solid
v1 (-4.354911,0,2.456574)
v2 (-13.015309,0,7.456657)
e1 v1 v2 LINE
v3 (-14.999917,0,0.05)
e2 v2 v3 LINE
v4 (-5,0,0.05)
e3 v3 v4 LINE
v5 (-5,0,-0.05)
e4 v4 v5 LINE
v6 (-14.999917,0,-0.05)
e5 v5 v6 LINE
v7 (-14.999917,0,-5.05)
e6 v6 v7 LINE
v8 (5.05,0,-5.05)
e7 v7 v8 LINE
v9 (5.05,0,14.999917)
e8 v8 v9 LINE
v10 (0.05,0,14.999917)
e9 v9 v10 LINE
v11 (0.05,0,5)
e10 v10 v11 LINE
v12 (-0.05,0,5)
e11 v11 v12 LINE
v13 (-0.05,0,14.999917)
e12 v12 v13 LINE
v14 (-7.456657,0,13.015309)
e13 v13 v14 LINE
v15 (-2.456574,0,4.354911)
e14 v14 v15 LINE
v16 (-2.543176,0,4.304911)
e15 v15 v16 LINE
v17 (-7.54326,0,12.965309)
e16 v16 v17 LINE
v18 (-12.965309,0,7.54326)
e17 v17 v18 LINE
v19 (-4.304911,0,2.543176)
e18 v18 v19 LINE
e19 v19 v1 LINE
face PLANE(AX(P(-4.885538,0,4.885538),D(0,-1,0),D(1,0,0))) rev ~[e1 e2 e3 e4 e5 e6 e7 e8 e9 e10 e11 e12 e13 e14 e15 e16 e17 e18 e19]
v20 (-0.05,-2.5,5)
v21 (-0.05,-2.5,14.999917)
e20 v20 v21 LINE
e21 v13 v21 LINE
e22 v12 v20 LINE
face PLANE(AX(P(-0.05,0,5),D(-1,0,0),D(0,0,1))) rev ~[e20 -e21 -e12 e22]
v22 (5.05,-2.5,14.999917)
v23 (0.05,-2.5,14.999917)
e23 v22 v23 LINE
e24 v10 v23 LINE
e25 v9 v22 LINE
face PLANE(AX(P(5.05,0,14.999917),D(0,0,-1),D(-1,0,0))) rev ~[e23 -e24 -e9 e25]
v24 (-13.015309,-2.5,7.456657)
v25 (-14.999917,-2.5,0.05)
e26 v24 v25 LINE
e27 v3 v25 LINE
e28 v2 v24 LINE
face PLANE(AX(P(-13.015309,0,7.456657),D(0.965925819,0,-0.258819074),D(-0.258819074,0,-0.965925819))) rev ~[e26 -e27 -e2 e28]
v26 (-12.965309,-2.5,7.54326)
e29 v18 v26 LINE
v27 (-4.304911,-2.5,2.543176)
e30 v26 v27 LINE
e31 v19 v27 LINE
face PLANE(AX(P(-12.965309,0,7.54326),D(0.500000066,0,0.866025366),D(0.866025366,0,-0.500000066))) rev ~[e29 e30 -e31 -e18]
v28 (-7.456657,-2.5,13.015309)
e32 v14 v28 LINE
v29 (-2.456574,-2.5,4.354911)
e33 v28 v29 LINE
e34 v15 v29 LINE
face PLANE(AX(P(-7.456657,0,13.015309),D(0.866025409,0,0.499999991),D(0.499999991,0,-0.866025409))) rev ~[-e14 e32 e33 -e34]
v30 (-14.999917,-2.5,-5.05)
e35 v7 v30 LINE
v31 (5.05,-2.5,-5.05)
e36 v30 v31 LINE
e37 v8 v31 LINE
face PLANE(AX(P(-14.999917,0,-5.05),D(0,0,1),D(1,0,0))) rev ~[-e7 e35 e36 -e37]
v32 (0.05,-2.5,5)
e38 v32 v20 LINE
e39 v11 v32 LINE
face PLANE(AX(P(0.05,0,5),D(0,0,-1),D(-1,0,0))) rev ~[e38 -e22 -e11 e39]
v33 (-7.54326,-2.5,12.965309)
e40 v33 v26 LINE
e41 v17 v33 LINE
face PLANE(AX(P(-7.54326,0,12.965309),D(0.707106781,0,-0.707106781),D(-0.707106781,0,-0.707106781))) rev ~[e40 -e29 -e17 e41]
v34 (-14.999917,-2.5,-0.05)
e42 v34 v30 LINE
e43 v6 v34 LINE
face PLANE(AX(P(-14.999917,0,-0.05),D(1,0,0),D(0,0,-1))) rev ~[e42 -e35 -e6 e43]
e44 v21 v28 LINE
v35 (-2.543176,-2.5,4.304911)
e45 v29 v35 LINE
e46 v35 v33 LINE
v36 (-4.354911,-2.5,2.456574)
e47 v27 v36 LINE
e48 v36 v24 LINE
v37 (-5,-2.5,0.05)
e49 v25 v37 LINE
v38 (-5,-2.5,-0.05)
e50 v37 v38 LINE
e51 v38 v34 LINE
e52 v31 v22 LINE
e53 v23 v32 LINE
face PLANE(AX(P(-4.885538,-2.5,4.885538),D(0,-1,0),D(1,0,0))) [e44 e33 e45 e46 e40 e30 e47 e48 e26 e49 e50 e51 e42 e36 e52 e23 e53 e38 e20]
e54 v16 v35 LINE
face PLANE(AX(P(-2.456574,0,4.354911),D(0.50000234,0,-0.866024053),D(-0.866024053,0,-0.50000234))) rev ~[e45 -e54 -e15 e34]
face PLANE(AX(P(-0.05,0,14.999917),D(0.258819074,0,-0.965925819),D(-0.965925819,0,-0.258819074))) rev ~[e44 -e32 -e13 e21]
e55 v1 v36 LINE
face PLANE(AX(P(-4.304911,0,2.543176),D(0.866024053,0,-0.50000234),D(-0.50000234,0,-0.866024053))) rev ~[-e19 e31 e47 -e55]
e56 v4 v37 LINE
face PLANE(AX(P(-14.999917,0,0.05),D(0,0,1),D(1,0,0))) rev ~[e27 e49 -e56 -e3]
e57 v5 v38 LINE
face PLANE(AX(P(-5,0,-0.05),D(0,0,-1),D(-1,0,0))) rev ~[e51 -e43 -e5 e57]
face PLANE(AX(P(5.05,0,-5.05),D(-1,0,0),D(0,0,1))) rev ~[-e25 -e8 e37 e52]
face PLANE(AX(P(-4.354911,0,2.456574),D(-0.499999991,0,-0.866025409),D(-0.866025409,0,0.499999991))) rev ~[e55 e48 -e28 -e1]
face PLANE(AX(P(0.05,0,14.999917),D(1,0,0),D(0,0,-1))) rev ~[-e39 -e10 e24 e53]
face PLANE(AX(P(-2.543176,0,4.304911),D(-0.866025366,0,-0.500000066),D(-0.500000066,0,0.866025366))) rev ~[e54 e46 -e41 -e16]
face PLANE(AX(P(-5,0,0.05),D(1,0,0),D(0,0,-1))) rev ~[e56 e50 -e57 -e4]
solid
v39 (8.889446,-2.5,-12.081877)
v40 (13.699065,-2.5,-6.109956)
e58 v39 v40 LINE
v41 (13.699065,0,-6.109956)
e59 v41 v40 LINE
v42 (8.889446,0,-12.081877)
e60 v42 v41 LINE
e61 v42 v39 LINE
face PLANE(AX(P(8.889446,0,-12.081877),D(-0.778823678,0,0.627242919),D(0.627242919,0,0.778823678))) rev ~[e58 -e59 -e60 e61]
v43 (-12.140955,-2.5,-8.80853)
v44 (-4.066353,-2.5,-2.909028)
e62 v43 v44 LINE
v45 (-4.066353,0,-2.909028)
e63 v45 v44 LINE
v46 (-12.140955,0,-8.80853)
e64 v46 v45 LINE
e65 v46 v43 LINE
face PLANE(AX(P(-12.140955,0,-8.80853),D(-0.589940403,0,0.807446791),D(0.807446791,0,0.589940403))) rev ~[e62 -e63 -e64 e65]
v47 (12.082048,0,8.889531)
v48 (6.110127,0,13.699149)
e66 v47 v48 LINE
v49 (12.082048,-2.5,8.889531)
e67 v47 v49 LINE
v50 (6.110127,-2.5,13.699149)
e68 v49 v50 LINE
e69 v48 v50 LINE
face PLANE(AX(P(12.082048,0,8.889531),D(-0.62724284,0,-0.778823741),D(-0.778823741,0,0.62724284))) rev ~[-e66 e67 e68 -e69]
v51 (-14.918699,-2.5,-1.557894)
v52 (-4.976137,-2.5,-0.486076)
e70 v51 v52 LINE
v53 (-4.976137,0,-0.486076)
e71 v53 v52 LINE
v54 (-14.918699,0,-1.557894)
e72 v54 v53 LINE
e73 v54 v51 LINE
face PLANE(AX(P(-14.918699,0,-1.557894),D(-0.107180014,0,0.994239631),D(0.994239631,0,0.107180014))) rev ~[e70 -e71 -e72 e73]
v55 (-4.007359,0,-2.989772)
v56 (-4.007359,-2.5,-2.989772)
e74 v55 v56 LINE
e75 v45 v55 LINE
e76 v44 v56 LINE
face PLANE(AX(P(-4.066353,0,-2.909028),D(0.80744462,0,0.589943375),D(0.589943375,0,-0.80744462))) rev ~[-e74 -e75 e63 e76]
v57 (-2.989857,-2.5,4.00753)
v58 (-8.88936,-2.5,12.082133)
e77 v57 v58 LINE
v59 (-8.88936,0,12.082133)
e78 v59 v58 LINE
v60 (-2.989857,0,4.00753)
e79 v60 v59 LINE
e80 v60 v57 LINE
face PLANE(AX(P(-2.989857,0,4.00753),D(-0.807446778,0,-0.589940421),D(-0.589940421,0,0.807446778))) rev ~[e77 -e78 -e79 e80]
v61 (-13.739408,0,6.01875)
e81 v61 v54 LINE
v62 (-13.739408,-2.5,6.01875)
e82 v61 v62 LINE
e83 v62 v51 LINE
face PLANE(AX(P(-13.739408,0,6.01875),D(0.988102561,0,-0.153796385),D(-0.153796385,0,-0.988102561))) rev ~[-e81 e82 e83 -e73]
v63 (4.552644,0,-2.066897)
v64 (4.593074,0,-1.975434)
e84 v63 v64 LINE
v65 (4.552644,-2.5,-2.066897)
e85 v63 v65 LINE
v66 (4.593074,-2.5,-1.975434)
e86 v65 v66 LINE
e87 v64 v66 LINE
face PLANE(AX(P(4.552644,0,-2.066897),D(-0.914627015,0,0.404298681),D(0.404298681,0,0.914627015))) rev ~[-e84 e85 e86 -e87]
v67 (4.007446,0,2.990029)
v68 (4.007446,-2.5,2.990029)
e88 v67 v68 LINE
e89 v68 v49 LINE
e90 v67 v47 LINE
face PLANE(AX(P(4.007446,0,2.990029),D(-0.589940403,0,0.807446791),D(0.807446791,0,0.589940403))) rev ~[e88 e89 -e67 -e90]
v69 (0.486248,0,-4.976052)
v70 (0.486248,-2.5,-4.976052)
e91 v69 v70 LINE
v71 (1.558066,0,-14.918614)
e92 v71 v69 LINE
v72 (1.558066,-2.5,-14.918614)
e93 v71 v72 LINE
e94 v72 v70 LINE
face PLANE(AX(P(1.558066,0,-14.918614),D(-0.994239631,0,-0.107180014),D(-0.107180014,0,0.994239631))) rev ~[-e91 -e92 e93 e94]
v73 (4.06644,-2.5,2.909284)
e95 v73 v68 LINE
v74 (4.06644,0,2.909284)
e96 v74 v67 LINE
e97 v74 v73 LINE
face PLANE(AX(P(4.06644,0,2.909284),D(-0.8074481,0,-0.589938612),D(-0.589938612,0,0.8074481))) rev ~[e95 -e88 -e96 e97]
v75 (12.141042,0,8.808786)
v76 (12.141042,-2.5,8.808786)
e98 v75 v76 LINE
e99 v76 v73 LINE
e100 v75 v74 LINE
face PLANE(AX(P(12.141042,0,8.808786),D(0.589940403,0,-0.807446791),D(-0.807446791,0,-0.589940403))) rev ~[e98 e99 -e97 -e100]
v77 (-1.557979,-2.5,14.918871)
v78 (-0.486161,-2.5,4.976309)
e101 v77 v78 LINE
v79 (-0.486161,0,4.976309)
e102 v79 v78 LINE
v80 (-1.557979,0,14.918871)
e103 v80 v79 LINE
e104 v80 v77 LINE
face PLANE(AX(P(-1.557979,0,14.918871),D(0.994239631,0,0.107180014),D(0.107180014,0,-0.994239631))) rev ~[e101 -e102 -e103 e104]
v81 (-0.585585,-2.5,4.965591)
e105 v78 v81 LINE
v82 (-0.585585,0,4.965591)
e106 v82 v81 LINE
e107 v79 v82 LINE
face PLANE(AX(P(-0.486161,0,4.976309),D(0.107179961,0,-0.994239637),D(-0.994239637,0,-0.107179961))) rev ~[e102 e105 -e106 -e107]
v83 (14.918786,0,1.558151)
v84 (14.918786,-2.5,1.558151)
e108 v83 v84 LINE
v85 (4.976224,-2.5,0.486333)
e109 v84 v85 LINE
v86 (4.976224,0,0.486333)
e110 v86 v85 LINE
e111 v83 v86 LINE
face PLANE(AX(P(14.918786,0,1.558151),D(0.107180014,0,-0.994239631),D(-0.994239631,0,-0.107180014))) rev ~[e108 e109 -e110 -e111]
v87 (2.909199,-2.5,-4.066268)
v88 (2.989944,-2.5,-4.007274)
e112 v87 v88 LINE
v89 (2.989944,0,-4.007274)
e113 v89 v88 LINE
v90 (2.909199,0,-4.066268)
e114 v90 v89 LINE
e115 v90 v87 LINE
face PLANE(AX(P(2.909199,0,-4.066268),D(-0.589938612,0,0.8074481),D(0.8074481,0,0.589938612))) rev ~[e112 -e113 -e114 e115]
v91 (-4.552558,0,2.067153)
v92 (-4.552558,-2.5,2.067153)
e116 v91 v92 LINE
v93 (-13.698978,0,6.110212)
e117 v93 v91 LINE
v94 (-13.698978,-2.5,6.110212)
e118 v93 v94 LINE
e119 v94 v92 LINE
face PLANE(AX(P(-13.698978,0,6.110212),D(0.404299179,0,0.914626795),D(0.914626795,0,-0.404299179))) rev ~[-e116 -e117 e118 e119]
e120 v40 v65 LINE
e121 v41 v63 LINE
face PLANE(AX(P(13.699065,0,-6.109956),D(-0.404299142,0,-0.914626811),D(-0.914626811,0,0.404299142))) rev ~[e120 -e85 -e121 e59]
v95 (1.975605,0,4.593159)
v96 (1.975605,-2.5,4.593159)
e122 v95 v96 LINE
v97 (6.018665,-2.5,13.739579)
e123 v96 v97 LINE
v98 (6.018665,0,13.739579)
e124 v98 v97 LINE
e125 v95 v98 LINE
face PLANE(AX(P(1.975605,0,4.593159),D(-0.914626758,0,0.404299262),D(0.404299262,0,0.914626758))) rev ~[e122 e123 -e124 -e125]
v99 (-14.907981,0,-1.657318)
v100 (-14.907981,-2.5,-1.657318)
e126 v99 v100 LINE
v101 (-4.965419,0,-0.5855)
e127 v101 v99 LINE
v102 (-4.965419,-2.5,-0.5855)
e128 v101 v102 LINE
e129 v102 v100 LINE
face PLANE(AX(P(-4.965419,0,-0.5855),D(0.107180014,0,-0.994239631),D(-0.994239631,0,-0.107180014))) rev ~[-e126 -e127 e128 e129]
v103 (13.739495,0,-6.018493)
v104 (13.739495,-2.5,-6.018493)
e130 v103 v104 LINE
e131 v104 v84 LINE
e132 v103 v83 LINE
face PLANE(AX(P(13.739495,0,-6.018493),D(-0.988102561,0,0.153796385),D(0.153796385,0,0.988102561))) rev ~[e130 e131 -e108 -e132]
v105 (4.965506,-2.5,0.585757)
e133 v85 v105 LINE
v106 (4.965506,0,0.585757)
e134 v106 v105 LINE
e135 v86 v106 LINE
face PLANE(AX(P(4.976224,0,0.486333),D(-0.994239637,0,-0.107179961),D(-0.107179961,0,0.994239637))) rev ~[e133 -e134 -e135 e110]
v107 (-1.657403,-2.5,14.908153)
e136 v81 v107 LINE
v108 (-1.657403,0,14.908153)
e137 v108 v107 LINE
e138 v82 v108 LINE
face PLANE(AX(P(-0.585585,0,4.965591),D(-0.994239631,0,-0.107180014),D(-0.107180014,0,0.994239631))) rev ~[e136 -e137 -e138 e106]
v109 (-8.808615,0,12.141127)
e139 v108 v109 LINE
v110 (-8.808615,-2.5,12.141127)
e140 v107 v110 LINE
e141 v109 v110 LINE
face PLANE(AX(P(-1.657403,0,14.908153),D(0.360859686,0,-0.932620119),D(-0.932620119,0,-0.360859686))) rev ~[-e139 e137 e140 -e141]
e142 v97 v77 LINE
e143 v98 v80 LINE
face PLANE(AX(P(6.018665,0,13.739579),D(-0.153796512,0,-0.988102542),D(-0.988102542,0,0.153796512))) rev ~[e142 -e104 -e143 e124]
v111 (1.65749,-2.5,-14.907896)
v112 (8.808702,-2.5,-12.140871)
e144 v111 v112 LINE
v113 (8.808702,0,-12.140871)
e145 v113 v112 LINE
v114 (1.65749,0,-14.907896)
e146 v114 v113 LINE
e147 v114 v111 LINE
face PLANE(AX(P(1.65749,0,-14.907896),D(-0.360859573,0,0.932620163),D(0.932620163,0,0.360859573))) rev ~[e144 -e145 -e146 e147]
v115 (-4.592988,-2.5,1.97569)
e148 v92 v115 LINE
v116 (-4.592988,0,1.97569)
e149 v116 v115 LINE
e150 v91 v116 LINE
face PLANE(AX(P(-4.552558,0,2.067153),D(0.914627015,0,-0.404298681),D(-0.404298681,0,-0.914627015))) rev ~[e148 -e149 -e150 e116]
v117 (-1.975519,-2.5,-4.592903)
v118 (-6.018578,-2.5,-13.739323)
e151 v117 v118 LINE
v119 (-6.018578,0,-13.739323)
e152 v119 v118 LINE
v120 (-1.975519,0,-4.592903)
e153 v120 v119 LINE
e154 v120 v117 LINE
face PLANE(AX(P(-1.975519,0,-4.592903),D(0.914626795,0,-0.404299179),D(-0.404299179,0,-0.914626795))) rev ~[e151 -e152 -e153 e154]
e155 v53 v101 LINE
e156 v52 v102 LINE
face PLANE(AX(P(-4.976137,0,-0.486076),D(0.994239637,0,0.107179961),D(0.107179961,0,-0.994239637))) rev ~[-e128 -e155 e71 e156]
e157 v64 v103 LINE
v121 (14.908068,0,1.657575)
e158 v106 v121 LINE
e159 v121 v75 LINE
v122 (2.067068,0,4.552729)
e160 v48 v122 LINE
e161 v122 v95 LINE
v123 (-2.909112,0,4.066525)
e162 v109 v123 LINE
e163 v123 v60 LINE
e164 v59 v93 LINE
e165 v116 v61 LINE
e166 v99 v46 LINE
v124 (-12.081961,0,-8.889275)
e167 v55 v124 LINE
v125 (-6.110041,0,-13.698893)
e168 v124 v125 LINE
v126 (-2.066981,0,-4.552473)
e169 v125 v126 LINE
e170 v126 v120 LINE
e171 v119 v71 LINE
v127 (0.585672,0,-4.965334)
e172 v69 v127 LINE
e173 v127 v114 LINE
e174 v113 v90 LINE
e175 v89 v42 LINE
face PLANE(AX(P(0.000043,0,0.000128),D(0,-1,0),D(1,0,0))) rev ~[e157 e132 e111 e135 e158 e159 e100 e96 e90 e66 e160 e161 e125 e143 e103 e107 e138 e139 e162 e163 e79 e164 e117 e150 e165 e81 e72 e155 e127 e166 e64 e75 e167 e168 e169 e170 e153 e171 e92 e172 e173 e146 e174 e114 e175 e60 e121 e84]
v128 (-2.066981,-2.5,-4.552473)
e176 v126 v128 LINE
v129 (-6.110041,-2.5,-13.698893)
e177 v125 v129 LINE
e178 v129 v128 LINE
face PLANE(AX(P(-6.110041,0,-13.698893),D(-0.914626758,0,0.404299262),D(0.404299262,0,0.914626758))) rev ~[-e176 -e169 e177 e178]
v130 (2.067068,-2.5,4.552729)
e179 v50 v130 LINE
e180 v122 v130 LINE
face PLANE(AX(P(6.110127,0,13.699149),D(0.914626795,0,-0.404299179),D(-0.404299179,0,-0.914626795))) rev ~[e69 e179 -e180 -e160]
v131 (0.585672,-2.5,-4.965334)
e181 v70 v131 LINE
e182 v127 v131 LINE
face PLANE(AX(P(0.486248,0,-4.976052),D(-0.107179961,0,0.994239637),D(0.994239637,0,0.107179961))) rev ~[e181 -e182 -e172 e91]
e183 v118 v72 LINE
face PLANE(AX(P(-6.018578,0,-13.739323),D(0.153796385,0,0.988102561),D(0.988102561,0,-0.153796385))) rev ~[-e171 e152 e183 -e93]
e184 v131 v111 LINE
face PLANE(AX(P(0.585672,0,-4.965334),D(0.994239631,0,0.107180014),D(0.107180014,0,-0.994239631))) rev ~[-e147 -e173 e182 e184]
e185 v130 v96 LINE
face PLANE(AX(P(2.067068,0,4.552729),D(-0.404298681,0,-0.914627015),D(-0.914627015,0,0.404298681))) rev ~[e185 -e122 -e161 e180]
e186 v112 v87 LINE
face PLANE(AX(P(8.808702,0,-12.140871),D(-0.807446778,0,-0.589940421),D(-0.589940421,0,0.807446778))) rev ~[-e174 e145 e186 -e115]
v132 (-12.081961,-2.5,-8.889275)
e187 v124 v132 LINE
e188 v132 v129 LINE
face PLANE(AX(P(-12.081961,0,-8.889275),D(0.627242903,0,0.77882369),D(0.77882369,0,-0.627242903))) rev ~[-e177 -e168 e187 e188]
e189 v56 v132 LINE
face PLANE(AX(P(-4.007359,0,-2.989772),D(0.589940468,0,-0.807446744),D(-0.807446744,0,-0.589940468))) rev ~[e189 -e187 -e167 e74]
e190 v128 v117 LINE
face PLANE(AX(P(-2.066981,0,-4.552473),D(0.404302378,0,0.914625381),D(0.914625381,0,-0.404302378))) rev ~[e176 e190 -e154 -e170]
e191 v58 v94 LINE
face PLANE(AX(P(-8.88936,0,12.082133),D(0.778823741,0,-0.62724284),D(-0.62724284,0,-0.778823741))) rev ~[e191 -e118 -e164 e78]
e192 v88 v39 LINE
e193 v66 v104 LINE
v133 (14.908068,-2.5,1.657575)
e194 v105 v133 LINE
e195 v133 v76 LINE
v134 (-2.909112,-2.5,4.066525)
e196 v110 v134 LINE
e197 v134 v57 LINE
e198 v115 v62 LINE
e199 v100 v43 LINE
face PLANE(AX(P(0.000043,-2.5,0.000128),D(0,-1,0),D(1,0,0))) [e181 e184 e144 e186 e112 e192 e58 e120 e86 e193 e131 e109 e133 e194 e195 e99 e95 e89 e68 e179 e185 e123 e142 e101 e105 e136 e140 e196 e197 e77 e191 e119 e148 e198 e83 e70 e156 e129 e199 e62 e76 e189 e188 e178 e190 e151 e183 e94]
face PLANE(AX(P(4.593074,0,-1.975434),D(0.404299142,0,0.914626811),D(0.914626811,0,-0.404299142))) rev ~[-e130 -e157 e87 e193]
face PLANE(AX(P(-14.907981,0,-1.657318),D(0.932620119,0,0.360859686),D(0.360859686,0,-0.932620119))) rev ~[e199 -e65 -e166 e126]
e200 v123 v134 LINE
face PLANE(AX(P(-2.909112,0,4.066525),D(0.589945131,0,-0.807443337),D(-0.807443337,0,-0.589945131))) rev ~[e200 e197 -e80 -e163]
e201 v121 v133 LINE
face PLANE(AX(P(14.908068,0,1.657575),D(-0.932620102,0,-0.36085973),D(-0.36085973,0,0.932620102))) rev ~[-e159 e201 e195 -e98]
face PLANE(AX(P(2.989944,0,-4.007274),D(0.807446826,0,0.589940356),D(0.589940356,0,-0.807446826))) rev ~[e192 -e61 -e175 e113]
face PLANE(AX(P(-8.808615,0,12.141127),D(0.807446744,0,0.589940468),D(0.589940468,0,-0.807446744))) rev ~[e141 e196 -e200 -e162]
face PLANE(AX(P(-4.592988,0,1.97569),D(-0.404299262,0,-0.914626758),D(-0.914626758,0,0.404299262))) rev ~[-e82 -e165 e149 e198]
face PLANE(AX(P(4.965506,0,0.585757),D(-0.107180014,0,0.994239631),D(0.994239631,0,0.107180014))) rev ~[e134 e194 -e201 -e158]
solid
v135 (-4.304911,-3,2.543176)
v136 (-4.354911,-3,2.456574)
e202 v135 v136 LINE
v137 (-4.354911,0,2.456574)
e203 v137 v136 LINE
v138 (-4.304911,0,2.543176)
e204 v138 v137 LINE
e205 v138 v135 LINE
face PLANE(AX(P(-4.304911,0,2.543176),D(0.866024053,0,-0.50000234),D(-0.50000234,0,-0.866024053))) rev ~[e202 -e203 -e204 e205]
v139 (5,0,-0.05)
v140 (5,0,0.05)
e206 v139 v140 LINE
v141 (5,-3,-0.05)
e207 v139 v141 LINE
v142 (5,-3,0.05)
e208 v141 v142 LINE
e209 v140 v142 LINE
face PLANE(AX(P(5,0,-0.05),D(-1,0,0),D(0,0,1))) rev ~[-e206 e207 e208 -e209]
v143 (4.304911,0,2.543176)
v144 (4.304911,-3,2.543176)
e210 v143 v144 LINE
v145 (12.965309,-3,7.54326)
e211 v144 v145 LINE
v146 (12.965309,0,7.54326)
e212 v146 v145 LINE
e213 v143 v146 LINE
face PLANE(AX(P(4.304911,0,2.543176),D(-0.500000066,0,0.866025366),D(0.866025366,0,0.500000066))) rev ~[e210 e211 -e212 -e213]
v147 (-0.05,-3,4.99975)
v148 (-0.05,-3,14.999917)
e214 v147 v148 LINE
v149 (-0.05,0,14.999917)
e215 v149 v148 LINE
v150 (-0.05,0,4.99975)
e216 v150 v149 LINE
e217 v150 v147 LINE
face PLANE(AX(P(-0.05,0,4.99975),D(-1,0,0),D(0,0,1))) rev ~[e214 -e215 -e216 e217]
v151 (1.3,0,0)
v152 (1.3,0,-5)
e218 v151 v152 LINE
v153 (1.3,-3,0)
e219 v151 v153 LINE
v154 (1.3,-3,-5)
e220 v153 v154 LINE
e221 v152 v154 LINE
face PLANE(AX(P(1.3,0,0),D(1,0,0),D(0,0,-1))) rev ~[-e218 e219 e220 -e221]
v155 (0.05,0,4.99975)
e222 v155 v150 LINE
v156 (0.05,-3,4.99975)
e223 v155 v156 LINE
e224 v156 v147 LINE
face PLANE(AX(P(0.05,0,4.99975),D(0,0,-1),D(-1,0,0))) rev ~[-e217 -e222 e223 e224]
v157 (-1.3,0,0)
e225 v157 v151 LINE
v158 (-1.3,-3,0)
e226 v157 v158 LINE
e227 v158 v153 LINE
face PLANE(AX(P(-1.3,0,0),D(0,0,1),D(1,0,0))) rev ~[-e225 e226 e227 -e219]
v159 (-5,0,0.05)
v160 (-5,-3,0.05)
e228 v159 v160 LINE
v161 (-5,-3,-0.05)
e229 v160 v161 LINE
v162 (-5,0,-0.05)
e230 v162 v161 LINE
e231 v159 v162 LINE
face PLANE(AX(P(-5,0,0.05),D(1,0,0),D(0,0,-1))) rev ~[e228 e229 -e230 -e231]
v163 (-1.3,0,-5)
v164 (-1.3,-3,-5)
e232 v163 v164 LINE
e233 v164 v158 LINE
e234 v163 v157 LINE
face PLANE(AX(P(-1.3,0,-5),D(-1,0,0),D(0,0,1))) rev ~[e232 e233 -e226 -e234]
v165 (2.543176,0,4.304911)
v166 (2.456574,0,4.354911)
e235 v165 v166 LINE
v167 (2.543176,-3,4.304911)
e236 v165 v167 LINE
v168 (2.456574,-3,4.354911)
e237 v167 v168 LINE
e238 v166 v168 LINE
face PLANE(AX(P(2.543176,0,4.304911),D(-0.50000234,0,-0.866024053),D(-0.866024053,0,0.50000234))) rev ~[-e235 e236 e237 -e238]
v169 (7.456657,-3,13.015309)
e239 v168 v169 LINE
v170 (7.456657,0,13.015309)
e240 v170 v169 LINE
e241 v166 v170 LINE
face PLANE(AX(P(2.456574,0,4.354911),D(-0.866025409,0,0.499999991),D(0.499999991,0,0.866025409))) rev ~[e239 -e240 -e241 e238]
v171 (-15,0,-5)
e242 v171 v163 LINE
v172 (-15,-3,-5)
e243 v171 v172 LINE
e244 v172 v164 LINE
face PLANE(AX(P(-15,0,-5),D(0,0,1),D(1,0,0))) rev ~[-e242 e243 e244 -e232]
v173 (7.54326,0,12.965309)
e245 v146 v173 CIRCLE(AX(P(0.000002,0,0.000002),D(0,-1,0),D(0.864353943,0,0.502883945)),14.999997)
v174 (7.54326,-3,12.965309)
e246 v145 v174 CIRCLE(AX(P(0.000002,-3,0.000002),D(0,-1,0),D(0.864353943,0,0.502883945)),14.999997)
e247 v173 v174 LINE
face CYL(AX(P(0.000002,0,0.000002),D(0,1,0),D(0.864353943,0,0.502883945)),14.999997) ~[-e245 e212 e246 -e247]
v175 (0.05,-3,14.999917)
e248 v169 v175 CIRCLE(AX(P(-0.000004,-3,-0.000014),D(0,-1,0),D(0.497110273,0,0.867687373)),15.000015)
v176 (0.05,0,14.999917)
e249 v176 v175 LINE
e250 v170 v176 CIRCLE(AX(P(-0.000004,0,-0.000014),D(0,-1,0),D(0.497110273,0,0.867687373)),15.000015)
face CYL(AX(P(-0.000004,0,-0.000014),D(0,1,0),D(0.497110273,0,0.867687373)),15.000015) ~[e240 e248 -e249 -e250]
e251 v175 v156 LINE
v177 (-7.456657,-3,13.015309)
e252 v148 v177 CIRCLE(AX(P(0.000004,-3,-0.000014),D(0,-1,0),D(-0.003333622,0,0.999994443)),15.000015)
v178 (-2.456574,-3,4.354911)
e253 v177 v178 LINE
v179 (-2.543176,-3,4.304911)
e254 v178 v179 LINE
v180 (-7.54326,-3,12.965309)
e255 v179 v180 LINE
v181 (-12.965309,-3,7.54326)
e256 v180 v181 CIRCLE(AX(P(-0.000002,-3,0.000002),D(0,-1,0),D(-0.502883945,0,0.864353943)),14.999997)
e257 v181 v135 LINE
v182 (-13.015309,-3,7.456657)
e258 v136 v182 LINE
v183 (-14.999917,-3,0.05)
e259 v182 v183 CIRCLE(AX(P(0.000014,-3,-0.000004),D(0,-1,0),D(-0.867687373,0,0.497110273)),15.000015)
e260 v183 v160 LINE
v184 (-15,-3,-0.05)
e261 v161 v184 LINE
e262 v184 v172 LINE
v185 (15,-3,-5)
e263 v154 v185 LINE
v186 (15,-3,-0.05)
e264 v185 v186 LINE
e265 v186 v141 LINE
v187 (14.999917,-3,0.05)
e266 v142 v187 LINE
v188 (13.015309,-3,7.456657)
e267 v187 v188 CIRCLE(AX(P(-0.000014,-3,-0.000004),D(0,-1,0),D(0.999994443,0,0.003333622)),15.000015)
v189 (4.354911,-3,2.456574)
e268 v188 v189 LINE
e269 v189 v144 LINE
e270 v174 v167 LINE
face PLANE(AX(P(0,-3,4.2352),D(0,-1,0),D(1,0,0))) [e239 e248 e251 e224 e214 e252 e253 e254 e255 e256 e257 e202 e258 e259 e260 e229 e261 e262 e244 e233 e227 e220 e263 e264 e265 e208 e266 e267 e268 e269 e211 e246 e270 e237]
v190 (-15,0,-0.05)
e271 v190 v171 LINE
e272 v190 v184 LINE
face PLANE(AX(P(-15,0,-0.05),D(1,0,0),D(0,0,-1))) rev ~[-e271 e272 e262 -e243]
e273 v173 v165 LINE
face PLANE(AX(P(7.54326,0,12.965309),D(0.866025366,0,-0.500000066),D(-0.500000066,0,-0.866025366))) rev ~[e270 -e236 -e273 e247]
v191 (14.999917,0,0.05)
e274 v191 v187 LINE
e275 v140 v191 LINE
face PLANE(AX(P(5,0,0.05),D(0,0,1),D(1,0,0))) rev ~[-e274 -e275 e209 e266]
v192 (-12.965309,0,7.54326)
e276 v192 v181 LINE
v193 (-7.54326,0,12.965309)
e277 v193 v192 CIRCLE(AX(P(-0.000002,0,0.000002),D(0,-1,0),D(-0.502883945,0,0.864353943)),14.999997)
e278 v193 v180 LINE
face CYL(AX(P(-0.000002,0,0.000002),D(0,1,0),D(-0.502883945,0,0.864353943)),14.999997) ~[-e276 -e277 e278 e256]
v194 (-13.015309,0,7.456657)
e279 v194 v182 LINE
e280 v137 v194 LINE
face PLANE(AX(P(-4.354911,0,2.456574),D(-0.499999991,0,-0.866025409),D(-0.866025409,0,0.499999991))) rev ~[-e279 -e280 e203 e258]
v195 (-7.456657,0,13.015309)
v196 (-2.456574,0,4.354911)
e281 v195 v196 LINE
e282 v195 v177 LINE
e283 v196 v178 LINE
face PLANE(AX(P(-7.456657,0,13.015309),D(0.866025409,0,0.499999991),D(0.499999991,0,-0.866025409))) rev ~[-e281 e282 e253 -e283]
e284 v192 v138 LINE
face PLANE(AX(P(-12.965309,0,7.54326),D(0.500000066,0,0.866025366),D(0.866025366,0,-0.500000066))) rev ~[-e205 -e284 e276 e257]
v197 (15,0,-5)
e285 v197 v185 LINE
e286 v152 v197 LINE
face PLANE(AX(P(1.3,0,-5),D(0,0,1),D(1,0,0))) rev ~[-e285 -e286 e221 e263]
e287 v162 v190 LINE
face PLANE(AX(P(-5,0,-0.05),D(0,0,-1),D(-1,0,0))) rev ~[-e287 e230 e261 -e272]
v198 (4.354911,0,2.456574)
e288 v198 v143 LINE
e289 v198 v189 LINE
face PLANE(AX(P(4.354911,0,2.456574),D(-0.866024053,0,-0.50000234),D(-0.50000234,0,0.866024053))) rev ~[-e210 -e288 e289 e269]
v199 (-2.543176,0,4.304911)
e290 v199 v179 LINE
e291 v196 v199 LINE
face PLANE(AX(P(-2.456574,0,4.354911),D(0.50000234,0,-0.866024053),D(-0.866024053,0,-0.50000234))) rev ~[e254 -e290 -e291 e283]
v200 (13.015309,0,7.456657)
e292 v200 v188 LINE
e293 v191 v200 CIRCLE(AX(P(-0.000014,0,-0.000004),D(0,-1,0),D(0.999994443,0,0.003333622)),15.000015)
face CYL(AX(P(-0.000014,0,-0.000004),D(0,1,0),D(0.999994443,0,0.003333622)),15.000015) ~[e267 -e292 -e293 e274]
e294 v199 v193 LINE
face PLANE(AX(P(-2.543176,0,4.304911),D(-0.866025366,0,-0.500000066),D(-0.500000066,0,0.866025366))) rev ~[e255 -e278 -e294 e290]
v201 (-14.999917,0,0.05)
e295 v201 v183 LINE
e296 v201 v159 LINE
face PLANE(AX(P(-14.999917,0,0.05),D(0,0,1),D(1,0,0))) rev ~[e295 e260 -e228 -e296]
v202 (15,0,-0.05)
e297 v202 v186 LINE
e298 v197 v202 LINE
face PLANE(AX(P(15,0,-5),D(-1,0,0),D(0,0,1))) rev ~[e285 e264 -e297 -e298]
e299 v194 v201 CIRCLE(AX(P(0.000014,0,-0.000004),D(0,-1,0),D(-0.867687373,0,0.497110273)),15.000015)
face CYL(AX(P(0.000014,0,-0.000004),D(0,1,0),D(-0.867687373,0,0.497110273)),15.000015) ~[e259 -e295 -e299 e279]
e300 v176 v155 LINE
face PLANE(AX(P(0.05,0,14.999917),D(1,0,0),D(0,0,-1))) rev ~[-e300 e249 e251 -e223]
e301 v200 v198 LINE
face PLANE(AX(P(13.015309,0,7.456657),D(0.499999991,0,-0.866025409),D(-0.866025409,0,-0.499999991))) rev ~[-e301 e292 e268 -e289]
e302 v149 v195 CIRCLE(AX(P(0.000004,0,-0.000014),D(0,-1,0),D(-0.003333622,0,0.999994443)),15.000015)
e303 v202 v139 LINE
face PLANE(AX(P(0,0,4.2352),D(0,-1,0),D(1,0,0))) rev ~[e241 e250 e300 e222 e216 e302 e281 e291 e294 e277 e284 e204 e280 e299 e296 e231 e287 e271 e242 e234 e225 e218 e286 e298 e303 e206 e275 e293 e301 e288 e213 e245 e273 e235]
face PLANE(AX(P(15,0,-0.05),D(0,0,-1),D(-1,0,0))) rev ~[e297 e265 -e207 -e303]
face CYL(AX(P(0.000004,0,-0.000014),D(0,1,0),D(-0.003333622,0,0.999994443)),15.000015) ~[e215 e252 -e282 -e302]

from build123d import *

# Parameters (mm, degrees)
F1_DEPTH = 3
F3_DEPTH = 2.5
F5_DEPTH = 2.5


with BuildPart() as f1:
    # F0 (on Front) → F1 (new body)
    with BuildSketch(Plane.XZ):
        with BuildLine():
            Line((-0.05, 4.99975), (-0.05, 14.999917))
            ThreePointArc((-0.05, 14.999917), (-3.882286, 14.488887), (-7.456657, 13.015309))
            Line((-7.456657, 13.015309), (-2.456574, 4.354911))
            Line((-2.456574, 4.354911), (-2.543176, 4.304911))
            Line((-2.543176, 4.304911), (-7.54326, 12.965309))
            ThreePointArc((-7.54326, 12.965309), (-10.606602, 10.606602), (-12.965309, 7.54326))
            Line((-12.965309, 7.54326), (-4.304911, 2.543176))
            Line((-4.304911, 2.543176), (-4.354911, 2.456574))
            Line((-4.354911, 2.456574), (-13.015309, 7.456657))
            ThreePointArc((-13.015309, 7.456657), (-14.488887, 3.882286), (-14.999917, 0.05))
            Line((-14.999917, 0.05), (-5, 0.05))
            Line((-5, 0.05), (-5, -0.05))
            Line((-5, -0.05), (-15, -0.05))
            Line((-15, -0.05), (-15, -5))
            Line((-15, -5), (-1.3, -5))
            Line((-1.3, -5), (-1.3, 0))
            Line((-1.3, 0), (1.3, 0))
            Line((1.3, 0), (1.3, -5))
            Line((1.3, -5), (15, -5))
            Line((15, -5), (15, -0.05))
            Line((15, -0.05), (5, -0.05))
            Line((5, -0.05), (5, 0.05))
            Line((5, 0.05), (14.999917, 0.05))
            ThreePointArc((14.999917, 0.05), (14.488887, 3.882286), (13.015309, 7.456657))
            Line((13.015309, 7.456657), (4.354911, 2.456574))
            Line((4.354911, 2.456574), (4.304911, 2.543176))
            Line((4.304911, 2.543176), (12.965309, 7.54326))
            ThreePointArc((12.965309, 7.54326), (10.606602, 10.606602), (7.54326, 12.965309))
            Line((7.54326, 12.965309), (2.543176, 4.304911))
            Line((2.543176, 4.304911), (2.456574, 4.354911))
            Line((2.456574, 4.354911), (7.456657, 13.015309))
            ThreePointArc((7.456657, 13.015309), (3.882286, 14.488887), (0.05, 14.999917))
            Line((0.05, 14.999917), (0.05, 4.99975))
            Line((0.05, 4.99975), (-0.05, 4.99975))
        make_face()
    extrude(amount=F1_DEPTH)


with BuildPart() as f3:
    # F2 (on Front) → F3 (new body)
    with BuildSketch(Plane.XZ):
        Polygon((-0.585585, 4.965591), (-1.657403, 14.908153), (-8.808615, 12.141127), (-2.909112, 4.066525), (-2.989857, 4.00753), (-8.88936, 12.082133), (-13.698978, 6.110212), (-4.552558, 2.067153), (-4.592988, 1.97569), (-13.739408, 6.01875), (-14.918699, -1.557894), (-4.976137, -0.486076), (-4.965419, -0.5855), (-14.907981, -1.657318), (-12.140955, -8.80853), (-4.066353, -2.909028), (-4.007359, -2.989772), (-12.081961, -8.889275), (-6.110041, -13.698893), (-2.066981, -4.552473), (-1.975519, -4.592903), (-6.018578, -13.739323), (1.558066, -14.918614), (0.486248, -4.976052), (0.585672, -4.965334), (1.65749, -14.907896), (8.808702, -12.140871), (2.909199, -4.066268), (2.989944, -4.007274), (8.889446, -12.081877), (13.699065, -6.109956), (4.552644, -2.066897), (4.593074, -1.975434), (13.739495, -6.018493), (14.918786, 1.558151), (4.976224, 0.486333), (4.965506, 0.585757), (14.908068, 1.657575), (12.141042, 8.808786), (4.06644, 2.909284), (4.007446, 2.990029), (12.082048, 8.889531), (6.110127, 13.699149), (2.067068, 4.552729), (1.975605, 4.593159), (6.018665, 13.739579), (-1.557979, 14.918871), (-0.486161, 4.976309), align=None)
    extrude(amount=F3_DEPTH)


with BuildPart() as f5:
    # F4 (on Front) → F5 (new body)
    with BuildSketch(Plane.XZ):
        Polygon((-5, -0.05), (-14.999917, -0.05), (-14.999917, -5.05), (5.05, -5.05), (5.05, 14.999917), (0.05, 14.999917), (0.05, 5), (-0.05, 5), (-0.05, 14.999917), (-7.456657, 13.015309), (-2.456574, 4.354911), (-2.543176, 4.304911), (-7.54326, 12.965309), (-12.965309, 7.54326), (-4.304911, 2.543176), (-4.354911, 2.456574), (-13.015309, 7.456657), (-14.999917, 0.05), (-5, 0.05), align=None)
    extrude(amount=F5_DEPTH)


solid = Compound([f1.part, f3.part, f5.part])
